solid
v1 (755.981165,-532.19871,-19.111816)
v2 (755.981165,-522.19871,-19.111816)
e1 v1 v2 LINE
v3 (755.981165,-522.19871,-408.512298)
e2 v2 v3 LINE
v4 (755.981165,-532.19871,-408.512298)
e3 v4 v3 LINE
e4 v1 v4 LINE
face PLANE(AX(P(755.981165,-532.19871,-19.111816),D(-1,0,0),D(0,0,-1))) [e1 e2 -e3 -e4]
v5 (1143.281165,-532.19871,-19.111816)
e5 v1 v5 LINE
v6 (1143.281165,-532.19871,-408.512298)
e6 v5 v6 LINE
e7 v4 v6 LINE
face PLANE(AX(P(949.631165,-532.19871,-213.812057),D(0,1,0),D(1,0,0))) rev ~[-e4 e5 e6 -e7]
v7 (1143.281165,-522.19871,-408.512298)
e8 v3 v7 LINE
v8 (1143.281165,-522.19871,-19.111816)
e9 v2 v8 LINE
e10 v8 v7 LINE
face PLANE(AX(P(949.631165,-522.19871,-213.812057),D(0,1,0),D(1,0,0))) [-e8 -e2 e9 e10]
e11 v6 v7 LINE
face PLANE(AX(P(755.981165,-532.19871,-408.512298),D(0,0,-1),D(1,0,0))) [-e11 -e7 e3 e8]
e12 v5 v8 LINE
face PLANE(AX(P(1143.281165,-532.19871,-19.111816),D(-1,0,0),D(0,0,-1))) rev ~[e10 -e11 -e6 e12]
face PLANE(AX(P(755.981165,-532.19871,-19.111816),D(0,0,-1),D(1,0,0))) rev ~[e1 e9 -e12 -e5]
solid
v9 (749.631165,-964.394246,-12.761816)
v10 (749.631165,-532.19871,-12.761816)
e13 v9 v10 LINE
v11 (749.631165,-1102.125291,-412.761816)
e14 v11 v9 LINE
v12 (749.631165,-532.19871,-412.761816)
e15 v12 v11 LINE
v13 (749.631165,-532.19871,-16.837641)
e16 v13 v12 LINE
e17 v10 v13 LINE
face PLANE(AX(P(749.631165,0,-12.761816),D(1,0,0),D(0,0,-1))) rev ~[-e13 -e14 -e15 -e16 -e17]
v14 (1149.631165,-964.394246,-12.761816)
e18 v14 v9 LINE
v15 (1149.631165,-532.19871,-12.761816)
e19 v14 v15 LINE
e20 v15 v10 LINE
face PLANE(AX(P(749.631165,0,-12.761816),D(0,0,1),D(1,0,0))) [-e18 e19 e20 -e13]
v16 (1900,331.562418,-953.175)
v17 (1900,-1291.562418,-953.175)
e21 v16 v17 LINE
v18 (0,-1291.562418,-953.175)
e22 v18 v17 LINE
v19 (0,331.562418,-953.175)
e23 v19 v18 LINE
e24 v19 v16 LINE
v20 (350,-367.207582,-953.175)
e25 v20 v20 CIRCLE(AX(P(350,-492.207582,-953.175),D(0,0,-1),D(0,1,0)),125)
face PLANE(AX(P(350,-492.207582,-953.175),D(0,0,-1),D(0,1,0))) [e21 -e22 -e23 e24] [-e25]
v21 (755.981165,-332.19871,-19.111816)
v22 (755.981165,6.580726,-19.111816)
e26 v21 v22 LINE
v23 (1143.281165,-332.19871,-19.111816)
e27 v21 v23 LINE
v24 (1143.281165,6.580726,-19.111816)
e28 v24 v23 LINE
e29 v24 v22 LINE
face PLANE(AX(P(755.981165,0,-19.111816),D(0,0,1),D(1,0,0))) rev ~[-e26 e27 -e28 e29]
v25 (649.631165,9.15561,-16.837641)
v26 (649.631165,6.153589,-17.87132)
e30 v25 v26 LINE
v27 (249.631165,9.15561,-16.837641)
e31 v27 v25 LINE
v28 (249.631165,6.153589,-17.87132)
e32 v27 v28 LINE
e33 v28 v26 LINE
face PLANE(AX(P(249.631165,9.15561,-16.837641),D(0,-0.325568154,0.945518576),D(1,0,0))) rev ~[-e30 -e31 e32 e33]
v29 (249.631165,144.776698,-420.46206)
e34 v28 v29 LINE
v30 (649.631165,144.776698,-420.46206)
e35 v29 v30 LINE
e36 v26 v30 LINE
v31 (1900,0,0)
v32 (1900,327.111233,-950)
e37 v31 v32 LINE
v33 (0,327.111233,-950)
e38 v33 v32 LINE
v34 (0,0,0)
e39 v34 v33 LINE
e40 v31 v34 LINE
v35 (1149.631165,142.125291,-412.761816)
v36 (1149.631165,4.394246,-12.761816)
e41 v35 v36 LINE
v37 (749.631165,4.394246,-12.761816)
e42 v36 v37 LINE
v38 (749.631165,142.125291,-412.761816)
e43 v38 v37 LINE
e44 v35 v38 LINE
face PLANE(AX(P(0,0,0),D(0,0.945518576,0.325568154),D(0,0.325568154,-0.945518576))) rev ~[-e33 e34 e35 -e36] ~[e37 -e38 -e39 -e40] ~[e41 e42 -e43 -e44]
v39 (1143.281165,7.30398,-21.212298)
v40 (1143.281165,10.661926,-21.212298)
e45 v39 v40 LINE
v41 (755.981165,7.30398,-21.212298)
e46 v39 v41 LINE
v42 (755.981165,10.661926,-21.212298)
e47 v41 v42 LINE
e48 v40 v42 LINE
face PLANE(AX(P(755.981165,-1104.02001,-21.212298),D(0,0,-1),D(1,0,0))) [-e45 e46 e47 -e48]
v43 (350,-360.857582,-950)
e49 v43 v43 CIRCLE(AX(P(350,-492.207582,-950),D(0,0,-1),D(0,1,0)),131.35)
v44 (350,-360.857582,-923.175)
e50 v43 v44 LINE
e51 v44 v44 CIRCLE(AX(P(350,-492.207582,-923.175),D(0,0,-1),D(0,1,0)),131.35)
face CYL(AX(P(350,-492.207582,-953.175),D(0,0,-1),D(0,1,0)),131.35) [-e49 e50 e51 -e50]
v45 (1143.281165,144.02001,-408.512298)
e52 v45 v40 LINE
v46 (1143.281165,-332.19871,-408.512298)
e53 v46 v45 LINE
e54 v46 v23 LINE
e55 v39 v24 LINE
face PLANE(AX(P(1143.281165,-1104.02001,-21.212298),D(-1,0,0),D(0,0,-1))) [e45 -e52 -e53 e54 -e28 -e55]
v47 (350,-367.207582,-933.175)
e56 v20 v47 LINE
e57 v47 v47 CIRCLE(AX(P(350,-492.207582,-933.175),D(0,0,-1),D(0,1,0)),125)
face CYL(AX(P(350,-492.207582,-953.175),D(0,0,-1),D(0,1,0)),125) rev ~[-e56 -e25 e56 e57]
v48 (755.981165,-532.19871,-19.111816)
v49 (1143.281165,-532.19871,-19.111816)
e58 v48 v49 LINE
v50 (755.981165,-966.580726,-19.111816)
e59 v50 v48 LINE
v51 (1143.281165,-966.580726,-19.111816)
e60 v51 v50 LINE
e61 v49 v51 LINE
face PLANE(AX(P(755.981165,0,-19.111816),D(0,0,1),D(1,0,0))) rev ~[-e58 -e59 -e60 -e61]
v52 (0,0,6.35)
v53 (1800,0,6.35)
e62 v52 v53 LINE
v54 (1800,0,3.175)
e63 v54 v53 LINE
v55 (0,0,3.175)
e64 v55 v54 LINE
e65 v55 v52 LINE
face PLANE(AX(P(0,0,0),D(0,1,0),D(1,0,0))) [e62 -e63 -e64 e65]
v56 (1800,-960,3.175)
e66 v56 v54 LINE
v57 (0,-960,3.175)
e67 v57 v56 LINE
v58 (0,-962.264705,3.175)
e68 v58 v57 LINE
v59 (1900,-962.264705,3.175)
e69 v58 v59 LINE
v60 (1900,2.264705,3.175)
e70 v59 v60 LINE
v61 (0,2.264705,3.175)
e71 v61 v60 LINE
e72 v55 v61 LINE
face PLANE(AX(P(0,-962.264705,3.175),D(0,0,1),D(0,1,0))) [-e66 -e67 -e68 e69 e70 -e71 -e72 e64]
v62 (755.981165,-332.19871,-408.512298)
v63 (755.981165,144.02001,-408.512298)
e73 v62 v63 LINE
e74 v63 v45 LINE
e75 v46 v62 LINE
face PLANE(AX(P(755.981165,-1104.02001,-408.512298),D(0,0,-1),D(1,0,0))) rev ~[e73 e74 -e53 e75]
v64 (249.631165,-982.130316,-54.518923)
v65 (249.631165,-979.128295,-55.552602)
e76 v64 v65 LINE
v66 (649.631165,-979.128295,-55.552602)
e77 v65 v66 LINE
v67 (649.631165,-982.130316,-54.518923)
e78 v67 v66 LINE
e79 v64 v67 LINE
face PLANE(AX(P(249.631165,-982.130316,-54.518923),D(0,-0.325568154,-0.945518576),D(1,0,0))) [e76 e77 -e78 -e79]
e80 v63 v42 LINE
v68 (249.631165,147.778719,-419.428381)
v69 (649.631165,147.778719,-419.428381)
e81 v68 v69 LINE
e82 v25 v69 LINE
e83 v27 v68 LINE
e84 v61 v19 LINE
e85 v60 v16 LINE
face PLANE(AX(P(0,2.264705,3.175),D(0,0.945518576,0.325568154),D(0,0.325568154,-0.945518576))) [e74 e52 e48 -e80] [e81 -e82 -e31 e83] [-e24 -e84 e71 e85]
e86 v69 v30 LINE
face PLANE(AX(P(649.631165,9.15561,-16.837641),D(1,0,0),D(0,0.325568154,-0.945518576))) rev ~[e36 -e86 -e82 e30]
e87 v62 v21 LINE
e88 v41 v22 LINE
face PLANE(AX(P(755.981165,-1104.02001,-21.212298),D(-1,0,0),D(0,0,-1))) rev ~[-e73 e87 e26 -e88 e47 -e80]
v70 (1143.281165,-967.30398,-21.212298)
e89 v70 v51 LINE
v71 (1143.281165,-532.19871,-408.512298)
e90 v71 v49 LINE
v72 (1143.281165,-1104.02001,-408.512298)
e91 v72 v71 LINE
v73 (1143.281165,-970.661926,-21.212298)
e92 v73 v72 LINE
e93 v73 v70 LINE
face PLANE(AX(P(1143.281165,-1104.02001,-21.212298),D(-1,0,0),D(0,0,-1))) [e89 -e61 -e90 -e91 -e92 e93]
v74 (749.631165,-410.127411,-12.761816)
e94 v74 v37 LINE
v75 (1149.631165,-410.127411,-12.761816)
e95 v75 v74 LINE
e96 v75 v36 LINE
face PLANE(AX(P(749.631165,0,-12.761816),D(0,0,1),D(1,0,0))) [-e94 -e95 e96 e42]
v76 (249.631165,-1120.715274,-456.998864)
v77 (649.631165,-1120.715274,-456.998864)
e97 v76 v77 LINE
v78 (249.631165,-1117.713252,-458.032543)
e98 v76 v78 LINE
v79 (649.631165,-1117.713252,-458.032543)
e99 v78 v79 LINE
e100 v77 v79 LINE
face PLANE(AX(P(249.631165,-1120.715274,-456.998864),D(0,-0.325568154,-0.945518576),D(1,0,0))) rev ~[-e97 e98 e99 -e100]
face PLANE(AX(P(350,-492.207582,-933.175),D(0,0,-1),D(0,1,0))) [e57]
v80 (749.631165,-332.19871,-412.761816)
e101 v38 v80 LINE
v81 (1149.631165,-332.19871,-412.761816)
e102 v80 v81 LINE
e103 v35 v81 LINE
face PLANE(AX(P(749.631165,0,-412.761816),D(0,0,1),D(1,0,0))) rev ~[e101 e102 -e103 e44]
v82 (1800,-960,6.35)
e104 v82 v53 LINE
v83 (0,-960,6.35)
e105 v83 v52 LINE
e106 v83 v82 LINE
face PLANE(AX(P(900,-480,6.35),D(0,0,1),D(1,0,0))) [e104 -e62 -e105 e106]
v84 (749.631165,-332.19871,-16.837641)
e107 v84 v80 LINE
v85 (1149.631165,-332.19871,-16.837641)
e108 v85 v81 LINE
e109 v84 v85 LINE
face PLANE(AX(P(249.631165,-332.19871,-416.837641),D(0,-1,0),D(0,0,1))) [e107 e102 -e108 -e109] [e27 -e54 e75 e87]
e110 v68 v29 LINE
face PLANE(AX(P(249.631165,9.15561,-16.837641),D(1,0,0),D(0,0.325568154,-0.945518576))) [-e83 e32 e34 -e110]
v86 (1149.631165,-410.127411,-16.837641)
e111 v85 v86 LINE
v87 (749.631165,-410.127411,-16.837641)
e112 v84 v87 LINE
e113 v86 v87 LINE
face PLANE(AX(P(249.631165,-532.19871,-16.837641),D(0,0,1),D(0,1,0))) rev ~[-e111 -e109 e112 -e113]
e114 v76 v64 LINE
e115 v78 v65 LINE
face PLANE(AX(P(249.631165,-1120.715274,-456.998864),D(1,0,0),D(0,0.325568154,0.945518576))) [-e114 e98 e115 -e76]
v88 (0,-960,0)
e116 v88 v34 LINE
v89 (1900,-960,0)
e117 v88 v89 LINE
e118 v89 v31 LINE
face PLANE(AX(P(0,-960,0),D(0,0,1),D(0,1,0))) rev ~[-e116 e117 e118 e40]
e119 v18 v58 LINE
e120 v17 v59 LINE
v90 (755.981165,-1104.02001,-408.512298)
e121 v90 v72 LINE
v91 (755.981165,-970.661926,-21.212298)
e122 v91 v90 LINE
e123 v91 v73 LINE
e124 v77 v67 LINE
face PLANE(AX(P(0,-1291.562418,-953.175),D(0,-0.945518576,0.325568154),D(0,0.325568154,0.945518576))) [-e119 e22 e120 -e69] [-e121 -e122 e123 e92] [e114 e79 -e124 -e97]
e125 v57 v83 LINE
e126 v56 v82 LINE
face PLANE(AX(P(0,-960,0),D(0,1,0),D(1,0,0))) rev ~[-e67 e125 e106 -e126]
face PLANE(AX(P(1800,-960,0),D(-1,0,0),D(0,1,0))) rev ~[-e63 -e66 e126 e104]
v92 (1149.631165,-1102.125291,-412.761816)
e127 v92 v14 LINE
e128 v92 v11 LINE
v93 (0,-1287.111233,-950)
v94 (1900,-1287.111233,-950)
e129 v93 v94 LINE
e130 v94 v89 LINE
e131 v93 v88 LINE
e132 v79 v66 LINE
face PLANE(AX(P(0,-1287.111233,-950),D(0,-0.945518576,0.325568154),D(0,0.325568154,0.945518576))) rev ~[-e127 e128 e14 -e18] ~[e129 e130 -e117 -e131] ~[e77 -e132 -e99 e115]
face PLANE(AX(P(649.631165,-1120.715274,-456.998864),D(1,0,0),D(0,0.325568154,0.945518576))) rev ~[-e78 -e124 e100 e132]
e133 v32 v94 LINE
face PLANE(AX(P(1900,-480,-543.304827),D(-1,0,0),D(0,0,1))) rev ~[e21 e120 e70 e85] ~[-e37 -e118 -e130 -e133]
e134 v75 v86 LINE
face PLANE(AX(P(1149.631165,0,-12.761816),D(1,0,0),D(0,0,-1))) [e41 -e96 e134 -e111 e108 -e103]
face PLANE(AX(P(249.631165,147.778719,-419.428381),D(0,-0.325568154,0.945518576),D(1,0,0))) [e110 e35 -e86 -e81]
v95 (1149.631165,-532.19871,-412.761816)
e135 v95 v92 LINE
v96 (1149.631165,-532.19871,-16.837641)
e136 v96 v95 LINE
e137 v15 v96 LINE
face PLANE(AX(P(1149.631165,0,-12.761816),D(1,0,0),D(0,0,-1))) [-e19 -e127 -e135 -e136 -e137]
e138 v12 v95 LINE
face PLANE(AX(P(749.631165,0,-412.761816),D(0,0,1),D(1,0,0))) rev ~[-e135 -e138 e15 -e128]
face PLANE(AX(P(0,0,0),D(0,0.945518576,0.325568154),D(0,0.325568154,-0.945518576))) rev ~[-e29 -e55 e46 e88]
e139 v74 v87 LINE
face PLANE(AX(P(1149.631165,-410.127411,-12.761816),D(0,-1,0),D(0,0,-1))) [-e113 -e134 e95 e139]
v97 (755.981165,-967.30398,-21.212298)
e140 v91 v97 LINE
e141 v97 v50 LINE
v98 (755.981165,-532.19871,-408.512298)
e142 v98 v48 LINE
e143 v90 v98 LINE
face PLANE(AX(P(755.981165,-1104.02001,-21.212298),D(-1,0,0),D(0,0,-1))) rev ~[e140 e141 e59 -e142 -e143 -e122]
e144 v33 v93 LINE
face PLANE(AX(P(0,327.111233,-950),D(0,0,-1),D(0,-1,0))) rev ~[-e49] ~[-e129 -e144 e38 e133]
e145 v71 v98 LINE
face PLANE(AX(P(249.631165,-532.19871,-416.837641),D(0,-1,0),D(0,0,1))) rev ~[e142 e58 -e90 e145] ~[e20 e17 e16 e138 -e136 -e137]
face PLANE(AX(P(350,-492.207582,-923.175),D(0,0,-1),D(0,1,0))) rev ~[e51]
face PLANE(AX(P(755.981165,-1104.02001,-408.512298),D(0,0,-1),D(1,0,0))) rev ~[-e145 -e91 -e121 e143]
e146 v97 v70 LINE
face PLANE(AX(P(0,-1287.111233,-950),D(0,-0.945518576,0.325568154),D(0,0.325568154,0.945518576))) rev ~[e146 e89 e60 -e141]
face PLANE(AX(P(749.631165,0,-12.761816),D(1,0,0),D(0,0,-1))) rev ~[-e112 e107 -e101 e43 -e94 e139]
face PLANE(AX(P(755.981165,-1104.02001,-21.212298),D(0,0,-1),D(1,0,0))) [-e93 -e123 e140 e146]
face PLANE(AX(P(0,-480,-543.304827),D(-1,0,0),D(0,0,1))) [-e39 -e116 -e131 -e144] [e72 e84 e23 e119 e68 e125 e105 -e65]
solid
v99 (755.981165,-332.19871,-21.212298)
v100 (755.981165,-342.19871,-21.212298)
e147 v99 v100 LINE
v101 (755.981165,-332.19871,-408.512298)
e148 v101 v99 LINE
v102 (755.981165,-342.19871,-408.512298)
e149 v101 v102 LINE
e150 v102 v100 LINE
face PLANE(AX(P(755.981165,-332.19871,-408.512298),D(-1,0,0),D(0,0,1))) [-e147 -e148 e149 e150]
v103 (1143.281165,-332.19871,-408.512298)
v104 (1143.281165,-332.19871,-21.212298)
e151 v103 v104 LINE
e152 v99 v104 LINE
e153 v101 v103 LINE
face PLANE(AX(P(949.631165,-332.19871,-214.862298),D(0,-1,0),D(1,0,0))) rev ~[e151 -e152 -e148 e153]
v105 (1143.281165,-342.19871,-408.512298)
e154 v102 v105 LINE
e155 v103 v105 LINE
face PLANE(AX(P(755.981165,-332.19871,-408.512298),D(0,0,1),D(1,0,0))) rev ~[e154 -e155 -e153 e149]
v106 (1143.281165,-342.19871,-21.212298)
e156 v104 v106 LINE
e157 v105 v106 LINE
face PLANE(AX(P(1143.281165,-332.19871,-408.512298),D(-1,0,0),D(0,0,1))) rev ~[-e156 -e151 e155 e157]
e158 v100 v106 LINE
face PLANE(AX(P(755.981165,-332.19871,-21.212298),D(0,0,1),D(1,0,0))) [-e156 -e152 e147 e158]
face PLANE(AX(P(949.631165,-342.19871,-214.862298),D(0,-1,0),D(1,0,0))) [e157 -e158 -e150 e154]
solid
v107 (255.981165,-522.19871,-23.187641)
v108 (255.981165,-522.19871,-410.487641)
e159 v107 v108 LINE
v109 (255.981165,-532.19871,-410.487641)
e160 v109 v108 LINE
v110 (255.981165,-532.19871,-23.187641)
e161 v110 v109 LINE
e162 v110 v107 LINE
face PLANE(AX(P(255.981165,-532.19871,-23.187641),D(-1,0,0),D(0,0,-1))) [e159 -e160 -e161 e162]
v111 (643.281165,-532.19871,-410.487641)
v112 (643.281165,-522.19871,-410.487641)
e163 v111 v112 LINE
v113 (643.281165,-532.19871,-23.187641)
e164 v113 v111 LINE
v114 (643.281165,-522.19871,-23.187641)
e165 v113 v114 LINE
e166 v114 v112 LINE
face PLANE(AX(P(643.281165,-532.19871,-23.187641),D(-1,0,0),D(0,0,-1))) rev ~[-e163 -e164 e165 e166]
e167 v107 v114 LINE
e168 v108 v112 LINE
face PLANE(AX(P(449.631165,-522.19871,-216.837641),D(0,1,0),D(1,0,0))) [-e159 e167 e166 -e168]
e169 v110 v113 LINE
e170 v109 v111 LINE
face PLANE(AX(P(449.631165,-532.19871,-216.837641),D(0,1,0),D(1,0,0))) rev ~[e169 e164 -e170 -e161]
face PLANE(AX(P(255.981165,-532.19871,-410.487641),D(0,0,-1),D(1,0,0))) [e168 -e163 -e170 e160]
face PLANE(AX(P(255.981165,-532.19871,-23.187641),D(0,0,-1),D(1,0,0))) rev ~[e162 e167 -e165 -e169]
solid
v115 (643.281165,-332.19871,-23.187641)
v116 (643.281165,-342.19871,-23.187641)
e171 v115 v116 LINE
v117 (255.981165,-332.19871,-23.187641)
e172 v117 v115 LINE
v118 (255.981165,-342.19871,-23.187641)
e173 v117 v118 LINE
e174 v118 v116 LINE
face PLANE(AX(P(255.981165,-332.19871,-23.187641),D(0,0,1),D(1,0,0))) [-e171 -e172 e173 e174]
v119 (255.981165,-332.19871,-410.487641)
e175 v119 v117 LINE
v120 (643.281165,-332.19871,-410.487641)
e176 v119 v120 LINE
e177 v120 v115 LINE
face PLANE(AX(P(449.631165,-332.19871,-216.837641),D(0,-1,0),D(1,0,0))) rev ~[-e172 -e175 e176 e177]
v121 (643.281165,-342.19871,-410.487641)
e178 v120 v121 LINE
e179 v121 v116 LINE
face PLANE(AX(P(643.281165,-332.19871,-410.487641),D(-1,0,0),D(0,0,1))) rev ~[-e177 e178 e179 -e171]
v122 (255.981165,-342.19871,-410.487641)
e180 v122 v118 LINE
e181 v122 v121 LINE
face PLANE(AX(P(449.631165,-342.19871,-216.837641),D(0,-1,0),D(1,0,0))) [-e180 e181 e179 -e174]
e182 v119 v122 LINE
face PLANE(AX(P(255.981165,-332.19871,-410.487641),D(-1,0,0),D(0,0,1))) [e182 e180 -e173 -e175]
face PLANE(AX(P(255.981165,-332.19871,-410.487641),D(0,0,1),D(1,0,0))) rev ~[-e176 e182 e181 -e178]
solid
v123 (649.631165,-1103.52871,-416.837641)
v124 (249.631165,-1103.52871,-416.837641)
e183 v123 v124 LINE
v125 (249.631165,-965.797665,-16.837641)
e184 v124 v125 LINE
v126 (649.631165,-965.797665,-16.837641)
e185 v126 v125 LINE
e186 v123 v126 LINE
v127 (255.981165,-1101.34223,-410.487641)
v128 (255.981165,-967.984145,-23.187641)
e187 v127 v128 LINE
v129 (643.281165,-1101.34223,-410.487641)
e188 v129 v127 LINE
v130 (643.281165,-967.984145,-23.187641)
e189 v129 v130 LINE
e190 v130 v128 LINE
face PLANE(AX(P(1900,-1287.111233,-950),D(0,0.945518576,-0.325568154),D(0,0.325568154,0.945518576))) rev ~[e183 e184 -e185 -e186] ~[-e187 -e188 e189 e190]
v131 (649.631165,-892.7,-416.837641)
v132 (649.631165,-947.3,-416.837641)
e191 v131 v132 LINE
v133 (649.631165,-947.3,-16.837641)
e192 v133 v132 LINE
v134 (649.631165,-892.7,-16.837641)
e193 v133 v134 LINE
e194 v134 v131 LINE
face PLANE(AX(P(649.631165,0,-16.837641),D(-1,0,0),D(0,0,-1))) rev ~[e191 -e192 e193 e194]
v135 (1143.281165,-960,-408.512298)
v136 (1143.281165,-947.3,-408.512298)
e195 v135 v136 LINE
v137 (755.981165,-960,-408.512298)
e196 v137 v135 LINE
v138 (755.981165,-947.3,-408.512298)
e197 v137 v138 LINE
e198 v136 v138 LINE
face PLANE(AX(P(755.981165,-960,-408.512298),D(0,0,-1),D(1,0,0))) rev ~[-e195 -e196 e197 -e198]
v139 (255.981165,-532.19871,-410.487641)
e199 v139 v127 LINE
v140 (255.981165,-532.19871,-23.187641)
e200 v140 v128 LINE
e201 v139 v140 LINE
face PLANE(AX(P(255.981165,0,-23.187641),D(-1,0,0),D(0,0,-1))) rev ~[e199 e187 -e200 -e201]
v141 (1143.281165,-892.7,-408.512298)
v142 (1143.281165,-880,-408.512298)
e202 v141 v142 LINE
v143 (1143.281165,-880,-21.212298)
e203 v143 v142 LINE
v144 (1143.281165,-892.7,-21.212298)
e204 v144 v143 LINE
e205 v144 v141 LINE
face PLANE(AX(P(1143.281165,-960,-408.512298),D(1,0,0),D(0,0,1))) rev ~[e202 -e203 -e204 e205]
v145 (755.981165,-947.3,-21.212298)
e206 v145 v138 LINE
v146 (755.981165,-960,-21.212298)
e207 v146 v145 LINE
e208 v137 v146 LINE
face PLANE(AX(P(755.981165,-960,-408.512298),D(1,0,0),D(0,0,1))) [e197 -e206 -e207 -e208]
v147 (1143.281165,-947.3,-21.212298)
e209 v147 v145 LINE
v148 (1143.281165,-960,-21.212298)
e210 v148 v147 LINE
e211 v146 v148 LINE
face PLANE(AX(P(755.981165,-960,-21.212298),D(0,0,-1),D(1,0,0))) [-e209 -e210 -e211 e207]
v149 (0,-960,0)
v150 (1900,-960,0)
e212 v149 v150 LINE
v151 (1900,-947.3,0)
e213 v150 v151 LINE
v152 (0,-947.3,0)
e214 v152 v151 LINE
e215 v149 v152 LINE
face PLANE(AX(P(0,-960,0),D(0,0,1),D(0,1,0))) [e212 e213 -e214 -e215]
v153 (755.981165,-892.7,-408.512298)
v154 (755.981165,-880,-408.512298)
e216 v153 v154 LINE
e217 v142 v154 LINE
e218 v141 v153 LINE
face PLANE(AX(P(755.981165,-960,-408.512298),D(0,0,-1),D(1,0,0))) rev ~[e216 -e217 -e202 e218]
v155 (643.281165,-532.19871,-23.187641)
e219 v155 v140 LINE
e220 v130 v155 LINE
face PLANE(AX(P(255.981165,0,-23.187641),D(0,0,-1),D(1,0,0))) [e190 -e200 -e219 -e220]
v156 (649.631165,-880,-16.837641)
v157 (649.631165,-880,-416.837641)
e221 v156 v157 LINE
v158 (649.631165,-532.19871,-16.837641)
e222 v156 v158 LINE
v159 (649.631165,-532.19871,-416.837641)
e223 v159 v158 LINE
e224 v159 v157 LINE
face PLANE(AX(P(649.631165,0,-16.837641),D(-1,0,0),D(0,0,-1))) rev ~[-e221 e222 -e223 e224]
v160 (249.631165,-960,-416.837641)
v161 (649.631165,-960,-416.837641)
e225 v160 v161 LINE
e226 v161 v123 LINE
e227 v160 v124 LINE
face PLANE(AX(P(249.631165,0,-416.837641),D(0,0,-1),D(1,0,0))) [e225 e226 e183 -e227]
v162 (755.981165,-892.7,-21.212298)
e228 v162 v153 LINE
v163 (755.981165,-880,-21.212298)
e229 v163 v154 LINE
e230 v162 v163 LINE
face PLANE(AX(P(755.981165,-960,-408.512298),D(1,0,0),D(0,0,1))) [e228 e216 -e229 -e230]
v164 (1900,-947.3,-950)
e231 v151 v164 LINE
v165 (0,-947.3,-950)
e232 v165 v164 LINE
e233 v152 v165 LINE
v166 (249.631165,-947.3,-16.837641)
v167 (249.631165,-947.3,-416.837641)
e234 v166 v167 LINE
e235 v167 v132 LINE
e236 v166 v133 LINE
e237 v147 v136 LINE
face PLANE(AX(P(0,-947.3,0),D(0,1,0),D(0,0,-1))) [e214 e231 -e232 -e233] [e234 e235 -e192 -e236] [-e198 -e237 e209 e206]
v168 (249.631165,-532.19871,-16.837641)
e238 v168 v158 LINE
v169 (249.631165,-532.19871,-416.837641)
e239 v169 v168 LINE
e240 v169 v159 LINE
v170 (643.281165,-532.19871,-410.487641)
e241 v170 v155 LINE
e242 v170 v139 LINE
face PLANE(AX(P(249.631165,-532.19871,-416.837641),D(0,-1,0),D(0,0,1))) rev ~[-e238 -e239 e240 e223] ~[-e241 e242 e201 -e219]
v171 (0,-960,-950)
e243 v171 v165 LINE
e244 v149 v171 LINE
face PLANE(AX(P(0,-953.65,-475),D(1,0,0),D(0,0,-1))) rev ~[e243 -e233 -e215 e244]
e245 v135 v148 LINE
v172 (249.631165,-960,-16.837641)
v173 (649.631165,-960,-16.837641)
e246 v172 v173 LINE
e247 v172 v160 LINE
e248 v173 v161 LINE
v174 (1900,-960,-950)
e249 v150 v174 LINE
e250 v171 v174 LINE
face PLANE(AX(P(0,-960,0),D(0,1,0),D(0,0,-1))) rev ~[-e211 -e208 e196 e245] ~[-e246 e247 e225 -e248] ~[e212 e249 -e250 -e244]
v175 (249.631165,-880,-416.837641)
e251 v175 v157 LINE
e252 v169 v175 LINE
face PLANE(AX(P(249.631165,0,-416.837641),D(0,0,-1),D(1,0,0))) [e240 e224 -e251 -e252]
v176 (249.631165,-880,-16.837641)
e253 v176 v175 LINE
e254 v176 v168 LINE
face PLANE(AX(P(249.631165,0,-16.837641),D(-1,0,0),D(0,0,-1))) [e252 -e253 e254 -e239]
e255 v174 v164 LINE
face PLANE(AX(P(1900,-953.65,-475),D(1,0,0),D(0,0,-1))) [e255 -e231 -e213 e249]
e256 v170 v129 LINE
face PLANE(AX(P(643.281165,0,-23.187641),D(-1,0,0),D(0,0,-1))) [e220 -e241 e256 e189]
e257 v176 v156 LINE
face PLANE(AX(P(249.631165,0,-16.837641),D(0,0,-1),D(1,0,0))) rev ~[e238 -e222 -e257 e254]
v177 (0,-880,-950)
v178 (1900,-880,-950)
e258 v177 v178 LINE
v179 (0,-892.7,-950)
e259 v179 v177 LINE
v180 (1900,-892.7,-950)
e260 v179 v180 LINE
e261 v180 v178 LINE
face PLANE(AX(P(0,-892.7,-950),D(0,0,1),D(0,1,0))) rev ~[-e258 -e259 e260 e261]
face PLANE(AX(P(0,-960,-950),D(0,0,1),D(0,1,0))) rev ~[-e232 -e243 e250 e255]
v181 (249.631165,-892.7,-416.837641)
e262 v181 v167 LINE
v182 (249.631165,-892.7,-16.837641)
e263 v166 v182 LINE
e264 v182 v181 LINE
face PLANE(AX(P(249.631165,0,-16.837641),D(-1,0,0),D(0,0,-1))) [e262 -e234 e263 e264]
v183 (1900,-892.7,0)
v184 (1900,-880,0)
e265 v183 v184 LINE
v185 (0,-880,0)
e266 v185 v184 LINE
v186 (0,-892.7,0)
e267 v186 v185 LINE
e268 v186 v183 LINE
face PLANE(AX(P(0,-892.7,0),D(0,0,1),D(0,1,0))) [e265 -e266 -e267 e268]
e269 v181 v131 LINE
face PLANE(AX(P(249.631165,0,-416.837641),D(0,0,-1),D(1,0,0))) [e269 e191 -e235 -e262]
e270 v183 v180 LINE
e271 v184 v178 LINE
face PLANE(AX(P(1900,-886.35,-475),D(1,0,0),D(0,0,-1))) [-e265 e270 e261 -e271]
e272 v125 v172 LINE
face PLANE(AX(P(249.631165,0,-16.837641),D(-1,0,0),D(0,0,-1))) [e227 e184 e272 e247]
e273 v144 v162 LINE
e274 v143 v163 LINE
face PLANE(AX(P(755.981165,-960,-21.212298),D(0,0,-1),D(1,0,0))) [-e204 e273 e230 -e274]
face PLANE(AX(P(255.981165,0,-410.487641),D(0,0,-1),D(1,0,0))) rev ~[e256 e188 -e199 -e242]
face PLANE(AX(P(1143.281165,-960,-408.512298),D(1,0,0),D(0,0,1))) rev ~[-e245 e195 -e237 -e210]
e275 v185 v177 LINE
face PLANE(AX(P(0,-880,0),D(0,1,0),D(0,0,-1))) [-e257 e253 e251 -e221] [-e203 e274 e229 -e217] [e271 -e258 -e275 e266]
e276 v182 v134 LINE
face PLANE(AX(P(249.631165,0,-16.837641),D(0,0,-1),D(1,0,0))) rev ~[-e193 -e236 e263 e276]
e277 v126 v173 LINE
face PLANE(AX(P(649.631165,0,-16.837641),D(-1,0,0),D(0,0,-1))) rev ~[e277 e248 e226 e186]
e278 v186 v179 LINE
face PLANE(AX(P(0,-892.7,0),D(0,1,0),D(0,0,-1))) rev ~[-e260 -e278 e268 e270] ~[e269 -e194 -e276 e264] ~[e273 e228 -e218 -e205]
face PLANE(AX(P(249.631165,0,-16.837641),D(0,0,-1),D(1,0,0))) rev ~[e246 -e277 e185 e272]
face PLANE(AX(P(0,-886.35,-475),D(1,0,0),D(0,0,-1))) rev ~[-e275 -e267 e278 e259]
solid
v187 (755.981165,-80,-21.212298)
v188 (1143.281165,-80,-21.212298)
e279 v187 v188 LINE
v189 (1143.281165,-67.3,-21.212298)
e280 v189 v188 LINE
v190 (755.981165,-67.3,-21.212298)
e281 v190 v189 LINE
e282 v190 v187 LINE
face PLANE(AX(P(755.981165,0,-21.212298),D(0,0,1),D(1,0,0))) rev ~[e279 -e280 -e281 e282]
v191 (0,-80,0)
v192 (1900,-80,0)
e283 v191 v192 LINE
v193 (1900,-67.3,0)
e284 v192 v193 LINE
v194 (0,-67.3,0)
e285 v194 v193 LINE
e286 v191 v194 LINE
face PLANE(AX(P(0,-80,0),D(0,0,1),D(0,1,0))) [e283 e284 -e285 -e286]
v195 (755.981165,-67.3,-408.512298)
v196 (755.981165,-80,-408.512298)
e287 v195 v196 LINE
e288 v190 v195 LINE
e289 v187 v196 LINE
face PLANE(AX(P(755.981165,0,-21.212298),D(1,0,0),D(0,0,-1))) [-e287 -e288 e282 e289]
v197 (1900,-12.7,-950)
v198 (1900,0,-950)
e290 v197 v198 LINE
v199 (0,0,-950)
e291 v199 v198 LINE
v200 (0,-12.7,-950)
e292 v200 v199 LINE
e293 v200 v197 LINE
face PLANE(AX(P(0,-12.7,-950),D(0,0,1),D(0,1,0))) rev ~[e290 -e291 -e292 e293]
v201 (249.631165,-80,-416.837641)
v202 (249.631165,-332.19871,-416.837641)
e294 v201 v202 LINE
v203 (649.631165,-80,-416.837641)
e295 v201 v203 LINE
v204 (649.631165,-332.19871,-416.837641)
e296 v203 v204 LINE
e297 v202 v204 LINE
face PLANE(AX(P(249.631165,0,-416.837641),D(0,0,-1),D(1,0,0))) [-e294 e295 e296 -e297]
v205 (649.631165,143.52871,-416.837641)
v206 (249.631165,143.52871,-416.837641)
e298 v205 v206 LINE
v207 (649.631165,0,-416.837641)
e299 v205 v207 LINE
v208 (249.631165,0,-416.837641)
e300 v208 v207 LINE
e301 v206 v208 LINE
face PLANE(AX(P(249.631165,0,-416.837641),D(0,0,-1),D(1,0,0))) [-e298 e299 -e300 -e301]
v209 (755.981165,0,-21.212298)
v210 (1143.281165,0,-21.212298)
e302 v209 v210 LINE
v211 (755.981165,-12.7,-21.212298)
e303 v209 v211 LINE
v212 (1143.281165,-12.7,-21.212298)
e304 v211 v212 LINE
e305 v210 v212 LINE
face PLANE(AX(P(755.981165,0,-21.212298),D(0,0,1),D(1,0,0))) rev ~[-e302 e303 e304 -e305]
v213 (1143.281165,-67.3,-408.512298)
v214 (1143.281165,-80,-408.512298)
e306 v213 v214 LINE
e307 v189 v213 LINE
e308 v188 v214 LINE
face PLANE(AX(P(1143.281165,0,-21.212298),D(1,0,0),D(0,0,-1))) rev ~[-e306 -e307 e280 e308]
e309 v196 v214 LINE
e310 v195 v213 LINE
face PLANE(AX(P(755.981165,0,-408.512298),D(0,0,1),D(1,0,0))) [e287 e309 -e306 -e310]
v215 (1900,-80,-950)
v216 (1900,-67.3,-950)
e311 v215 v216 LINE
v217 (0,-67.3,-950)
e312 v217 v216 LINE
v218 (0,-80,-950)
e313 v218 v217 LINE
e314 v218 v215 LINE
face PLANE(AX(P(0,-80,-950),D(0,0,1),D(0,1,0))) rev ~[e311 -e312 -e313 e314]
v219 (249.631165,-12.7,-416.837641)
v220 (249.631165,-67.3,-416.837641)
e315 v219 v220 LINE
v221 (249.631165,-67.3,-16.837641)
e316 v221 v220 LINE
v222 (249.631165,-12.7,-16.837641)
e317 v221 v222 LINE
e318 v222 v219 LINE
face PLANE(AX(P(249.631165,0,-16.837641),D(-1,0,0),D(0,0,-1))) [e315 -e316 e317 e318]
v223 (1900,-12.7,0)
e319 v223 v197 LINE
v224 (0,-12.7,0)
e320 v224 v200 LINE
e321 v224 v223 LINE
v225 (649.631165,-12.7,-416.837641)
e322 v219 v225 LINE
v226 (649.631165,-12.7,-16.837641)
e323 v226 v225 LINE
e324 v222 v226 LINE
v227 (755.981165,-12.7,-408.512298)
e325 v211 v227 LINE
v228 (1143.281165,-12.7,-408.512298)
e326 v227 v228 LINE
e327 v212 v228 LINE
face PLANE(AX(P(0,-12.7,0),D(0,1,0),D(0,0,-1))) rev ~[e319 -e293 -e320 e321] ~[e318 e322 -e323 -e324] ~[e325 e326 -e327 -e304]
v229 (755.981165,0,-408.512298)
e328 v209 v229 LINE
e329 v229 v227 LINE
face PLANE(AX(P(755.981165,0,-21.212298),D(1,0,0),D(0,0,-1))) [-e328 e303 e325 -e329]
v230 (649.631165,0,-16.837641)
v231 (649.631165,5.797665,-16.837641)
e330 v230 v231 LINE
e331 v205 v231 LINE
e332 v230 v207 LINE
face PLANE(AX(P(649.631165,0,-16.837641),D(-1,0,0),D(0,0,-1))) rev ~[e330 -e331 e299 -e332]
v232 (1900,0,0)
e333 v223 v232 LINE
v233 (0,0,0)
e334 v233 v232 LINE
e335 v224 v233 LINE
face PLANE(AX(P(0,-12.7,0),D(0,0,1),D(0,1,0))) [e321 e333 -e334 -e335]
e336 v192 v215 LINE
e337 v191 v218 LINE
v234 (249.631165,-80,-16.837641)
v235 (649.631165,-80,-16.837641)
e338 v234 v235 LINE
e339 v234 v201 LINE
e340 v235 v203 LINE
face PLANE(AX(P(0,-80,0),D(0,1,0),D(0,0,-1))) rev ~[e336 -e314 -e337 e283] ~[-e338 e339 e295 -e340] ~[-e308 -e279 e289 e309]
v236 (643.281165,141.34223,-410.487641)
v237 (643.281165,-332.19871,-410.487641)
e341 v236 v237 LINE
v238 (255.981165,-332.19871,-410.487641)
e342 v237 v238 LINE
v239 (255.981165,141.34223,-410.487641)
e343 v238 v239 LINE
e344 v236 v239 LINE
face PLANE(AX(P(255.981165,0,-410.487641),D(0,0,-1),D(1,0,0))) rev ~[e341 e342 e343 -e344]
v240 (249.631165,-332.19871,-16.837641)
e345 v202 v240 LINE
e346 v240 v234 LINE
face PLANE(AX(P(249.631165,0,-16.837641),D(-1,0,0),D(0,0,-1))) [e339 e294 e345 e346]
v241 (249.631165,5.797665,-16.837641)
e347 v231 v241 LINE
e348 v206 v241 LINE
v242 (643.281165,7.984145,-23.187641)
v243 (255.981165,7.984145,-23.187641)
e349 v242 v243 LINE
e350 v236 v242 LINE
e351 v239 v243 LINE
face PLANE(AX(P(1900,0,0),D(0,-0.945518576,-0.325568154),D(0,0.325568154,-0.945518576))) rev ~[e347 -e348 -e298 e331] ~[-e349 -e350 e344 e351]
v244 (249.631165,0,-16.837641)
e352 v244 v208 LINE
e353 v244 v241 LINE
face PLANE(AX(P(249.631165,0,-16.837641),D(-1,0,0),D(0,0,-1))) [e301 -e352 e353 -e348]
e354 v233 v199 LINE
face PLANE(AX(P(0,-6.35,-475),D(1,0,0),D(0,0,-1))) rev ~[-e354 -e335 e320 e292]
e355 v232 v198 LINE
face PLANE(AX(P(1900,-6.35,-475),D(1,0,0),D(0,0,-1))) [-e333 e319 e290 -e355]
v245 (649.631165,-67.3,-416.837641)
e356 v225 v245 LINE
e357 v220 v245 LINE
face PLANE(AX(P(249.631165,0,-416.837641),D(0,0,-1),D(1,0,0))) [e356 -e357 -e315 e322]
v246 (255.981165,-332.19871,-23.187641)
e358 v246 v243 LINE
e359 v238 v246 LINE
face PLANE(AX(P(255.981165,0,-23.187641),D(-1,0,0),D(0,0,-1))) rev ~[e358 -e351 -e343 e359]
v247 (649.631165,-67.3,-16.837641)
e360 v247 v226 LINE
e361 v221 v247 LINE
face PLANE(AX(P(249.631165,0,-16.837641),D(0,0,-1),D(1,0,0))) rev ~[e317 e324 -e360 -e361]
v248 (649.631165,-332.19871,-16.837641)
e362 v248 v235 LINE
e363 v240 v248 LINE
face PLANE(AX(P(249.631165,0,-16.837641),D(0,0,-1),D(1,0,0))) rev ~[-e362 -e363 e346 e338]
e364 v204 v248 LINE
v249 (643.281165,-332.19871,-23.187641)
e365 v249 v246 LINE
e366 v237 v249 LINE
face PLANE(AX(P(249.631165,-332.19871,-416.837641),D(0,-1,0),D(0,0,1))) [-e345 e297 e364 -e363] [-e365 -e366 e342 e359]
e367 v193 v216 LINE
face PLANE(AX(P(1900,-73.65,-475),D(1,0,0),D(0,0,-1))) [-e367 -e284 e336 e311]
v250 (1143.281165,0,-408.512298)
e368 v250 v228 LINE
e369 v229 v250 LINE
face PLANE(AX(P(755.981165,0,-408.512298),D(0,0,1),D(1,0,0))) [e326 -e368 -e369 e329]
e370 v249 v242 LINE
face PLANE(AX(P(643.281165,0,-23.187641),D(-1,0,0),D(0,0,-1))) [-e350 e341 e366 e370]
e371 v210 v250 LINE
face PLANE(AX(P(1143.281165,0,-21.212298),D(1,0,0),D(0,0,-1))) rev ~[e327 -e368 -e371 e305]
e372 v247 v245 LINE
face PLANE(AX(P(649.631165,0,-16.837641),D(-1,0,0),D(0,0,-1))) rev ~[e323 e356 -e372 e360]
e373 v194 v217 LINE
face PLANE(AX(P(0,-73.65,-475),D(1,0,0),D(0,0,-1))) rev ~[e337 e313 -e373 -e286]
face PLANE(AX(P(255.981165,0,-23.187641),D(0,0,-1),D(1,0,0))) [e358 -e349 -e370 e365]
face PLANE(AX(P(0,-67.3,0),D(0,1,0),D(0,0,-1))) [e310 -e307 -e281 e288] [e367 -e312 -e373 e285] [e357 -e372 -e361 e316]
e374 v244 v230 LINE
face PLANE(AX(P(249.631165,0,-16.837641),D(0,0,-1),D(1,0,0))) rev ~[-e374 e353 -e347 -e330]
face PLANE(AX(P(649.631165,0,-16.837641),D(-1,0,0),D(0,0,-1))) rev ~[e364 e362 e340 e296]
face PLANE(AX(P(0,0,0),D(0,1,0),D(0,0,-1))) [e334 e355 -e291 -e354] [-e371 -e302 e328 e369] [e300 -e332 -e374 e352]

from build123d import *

# Parameters (mm, degrees)
SKETCH1_W                       = 1800
SKETCH1_H                       = 960
BOSS_EXTRUDE1_DEPTH             = 6.35
BOSS_EXTRUDE2_DEPTH             = 1900
SKETCH6_W                       = 400
SKETCH6_H                       = 425.788292868
CUT_EXTRUDE1_DEPTH              = 300
SKETCH7_W                       = 400
SKETCH7_H                       = 425.67110899
CUT_EXTRUDE2_DEPTH              = 300
BOSS_EXTRUDE4_REACH             = 2489.303
SKETCH8_W                       = 400
SKETCH8_H                       = 400
SKETCH8_W_2                     = 387.3
SKETCH8_H_2                     = 387.3
BOSS_EXTRUDE4_DIRECTION_2_REACH = 2489.303
SKETCH11_R                      = 131.35
BOSS_EXTRUDE6_DEPTH             = 30
SKETCH12_R                      = 125
CUT_EXTRUDE5_DEPTH              = 20
BOSS_EXTRUDE7_REACH             = 2489.303
SKETCH14_W                      = 400
SKETCH14_H                      = 400
SKETCH14_W_2                    = 387.3
SKETCH14_H_2                    = 387.3
BOSS_EXTRUDE7_DIRECTION_2_REACH = 2489.303
CUT_EXTRUDE6_START              = -1104.02001
SKETCH15_W                      = 387.3
SKETCH15_H                      = 387.3
CUT_EXTRUDE6_DEPTH              = 1248.04002
SKETCH16_W                      = 400
SKETCH16_H                      = 200
CUT_EXTRUDE8_DEPTH              = 940
SKETCH18_W                      = 4.075824643
SKETCH18_H                      = 122.071298875
CUT_EXTRUDE9_DEPTH              = 410
SKETCH19_W                      = 387.3
SKETCH19_H                      = 387.3
BOSS_EXTRUDE22_DEPTH            = 10
SKETCH22_W                      = 387.3
SKETCH22_H                      = 389.400481364
BOSS_EXTRUDE24_DEPTH            = 10
SKETCH23_W                      = 387.3
SKETCH23_H                      = 387.3
BOSS_EXTRUDE25_DEPTH            = 10
SKETCH24_W                      = 387.3
SKETCH24_H                      = 387.3
BOSS_EXTRUDE26_DEPTH            = 10
SKETCH25_W                      = 950
SKETCH25_H                      = 12.7
BOSS_EXTRUDE27_DEPTH            = 1900
SKETCH26_W                      = 387.3
SKETCH26_H                      = 387.3
CUT_EXTRUDE10_DEPTH             = 300
SKETCH27_W                      = 387.3
SKETCH27_H                      = 387.3
CUT_EXTRUDE11_DEPTH             = 300
SKETCH28_W                      = 387.3
SKETCH28_H                      = 387.3
CUT_EXTRUDE12_DEPTH             = 300
SKETCH29_W                      = 387.3
SKETCH29_H                      = 387.3
CUT_EXTRUDE13_DEPTH             = 300


with BuildPart() as part:
    # Sketch1 → Boss-Extrude1 (new body)
    with BuildSketch(Plane.XY):
        with Locations((900, -480)):
            Rectangle(SKETCH1_W, SKETCH1_H)
    extrude(amount=BOSS_EXTRUDE1_DEPTH)

    # Sketch2 → Boss-Extrude2 (add)
    with BuildSketch(Plane(origin=(0, 0, 0), x_dir=(0, 0, -1), z_dir=(1, 0, 0))):
        Polygon((-3.175, -962.264705491), (-3.175, 2.264705491), (953.175, 331.56241846), (953.175, -1291.56241846), align=None)
        Polygon((0, 0), (950, 327.111232625), (950, -1287.111232625), (0, -960), align=None, mode=Mode.SUBTRACT)
    extrude(amount=BOSS_EXTRUDE2_DEPTH)

    # Sketch6 → Cut-Extrude1 (cut)
    with BuildSketch(Plane(origin=(0, 3.002021478, 1.03367889), x_dir=(1, 0, 0), z_dir=(0, 0.9455185755993153, 0.32556815445716086))):
        with Locations((449.631164922, 231.795224093)):
            Rectangle(SKETCH6_W, SKETCH6_H)
    extrude(amount=-CUT_EXTRUDE1_DEPTH, mode=Mode.SUBTRACT)

    # Sketch7 → Cut-Extrude2 (cut)
    with BuildSketch(Plane(origin=(0, -861.247183209, 296.551187047), x_dir=(1, 0, 0), z_dir=(0, -0.9455185755993154, 0.32556815445716053))):
        with Locations((449.631164922, -584.134563657)):
            Rectangle(SKETCH7_W, SKETCH7_H)
    extrude(amount=-CUT_EXTRUDE2_DEPTH, mode=Mode.SUBTRACT)

    # Sketch11 → Boss-Extrude6 (add)
    with BuildSketch(Plane(origin=(0, 0, -953.175), x_dir=(-1, 0, 0), z_dir=(0, 0, -1))):
        with Locations(Location((-350, -492.20758154, 0), (0, 0, 90))):
            Circle(SKETCH11_R)
    extrude(amount=-BOSS_EXTRUDE6_DEPTH)

    # Sketch12 → Cut-Extrude5 (cut)
    with BuildSketch(Plane(origin=(0, 0, -953.175), x_dir=(-1, 0, 0), z_dir=(0, 0, -1))):
        with Locations(Location((-350, -492.20758154, 0), (0, 0, 90))):
            Circle(SKETCH12_R)
    extrude(amount=-CUT_EXTRUDE5_DEPTH, mode=Mode.SUBTRACT)

    # Boss-Extrude7: up to this plane
    boss_extrude7_end = Plane(origin=(1900, 0, 0), z_dir=(0, -0.9455185755993153, -0.325568154457161))
    # Sketch14 → Boss-Extrude7 (add, up to the surface)
    with BuildSketch(Plane(origin=(0, 0, 0), x_dir=(1, 0, 0), z_dir=(0, 1, 0)), mode=Mode.PRIVATE) as boss_extrude7_sk1:
        with Locations((949.631164922, 212.761816492)):
            Rectangle(SKETCH14_W, SKETCH14_H)
        with Locations((949.631164922, 212.761816492)):
            Rectangle(SKETCH14_W_2, SKETCH14_H_2, mode=Mode.SUBTRACT)
    boss_extrude7_tool1 = split(extrude(boss_extrude7_sk1.sketch, amount=BOSS_EXTRUDE7_REACH, mode=Mode.PRIVATE), bisect_by=boss_extrude7_end, keep=Keep.BOTH, mode=Mode.PRIVATE)
    add(boss_extrude7_tool1.solids().sort_by_distance((949.631165, 0, -407.104962))[0])

    # Boss-Extrude7 direction 2: up to this plane
    boss_extrude7_direction_2_end = Plane(origin=(1900, -1287.111232625, -950), z_dir=(0, 0.9455185755993156, -0.3255681544571603))
    # Sketch14 → Boss-Extrude7 direction 2 (add, up to the surface)
    with BuildSketch(Plane(origin=(0, 0, 0), x_dir=(1, 0, 0), z_dir=(0, 1, 0)), mode=Mode.PRIVATE) as boss_extrude7_direction_2_sk1:
        with Locations((949.631164922, 212.761816492)):
            Rectangle(SKETCH14_W, SKETCH14_H)
        with Locations((949.631164922, 212.761816492)):
            Rectangle(SKETCH14_W_2, SKETCH14_H_2, mode=Mode.SUBTRACT)
    boss_extrude7_direction_2_tool1 = split(extrude(boss_extrude7_direction_2_sk1.sketch, amount=-BOSS_EXTRUDE7_DIRECTION_2_REACH, mode=Mode.PRIVATE), bisect_by=boss_extrude7_direction_2_end, keep=Keep.BOTH, mode=Mode.PRIVATE)
    add(boss_extrude7_direction_2_tool1.solids().sort_by_distance((949.631165, 0, -407.104962))[0])

    # Sketch15 → Cut-Extrude6 (cut)
    with BuildSketch(Plane(origin=(0, 0, 0), x_dir=(1, 0, 0), z_dir=(0, 1, 0)).offset(CUT_EXTRUDE6_START)):
        with Locations((949.631164922, 214.862297856)):
            Rectangle(SKETCH15_W, SKETCH15_H)
    extrude(amount=CUT_EXTRUDE6_DEPTH, mode=Mode.SUBTRACT)


with BuildPart() as body_2:
    # Boss-Extrude4: up to this plane
    boss_extrude4_end = Plane(origin=(1900, -1287.111232625, -950), z_dir=(0, 0.9455185755993156, -0.3255681544571603))
    # Sketch8 → Boss-Extrude4 (new, up to the surface)
    with BuildSketch(Plane(origin=(0, 0, 0), x_dir=(1, 0, 0), z_dir=(0, 1, 0)), mode=Mode.PRIVATE) as boss_extrude4_sk1:
        with Locations((449.631164922, 216.837641135)):
            Rectangle(SKETCH8_W, SKETCH8_H)
        with Locations((449.631164922, 216.837641135)):
            Rectangle(SKETCH8_W_2, SKETCH8_H_2, mode=Mode.SUBTRACT)
    boss_extrude4_tool1 = split(extrude(boss_extrude4_sk1.sketch, amount=-BOSS_EXTRUDE4_REACH, mode=Mode.PRIVATE), bisect_by=boss_extrude4_end, keep=Keep.BOTH, mode=Mode.PRIVATE)
    add(boss_extrude4_tool1.solids().sort_by_distance((449.631165, 0, -22.494495))[0])

    # Boss-Extrude4 direction 2: up to this plane
    boss_extrude4_direction_2_end = Plane(origin=(1900, 0, 0), z_dir=(0, -0.9455185755993153, -0.325568154457161))
    # Sketch8 → Boss-Extrude4 direction 2 (add, up to the surface)
    with BuildSketch(Plane(origin=(0, 0, 0), x_dir=(1, 0, 0), z_dir=(0, 1, 0)), mode=Mode.PRIVATE) as boss_extrude4_direction_2_sk1:
        with Locations((449.631164922, 216.837641135)):
            Rectangle(SKETCH8_W, SKETCH8_H)
        with Locations((449.631164922, 216.837641135)):
            Rectangle(SKETCH8_W_2, SKETCH8_H_2, mode=Mode.SUBTRACT)
    boss_extrude4_direction_2_tool1 = split(extrude(boss_extrude4_direction_2_sk1.sketch, amount=BOSS_EXTRUDE4_DIRECTION_2_REACH, mode=Mode.PRIVATE), bisect_by=boss_extrude4_direction_2_end, keep=Keep.BOTH, mode=Mode.PRIVATE)
    add(boss_extrude4_direction_2_tool1.solids().sort_by_distance((449.631165, 0, -22.494495))[0])


with BuildPart() as cut_extrude8_tool:
    # Sketch16 → Cut-Extrude8 (new body)
    with BuildSketch(Plane.ZY.offset(-249.631164922)):
        with Locations((-216.837641135, -432.198710101)):
            Rectangle(SKETCH16_W, SKETCH16_H)
    extrude(amount=-CUT_EXTRUDE8_DEPTH)


with BuildPart() as part_1:
    add(part.part)

    # Cut-Extrude8: cut by cut_extrude8_tool
    add(cut_extrude8_tool.part, mode=Mode.SUBTRACT)

    # Sketch18 → Cut-Extrude9 (cut)
    with BuildSketch(Plane(origin=(1149.631164922, 0, 0), x_dir=(0, 0, -1), z_dir=(1, 0, 0))):
        with Locations((14.799728814, -471.163060664)):
            Rectangle(SKETCH18_W, SKETCH18_H)
    extrude(amount=-CUT_EXTRUDE9_DEPTH, mode=Mode.SUBTRACT)


with BuildPart() as body_2_1:
    add(body_2.part)

    # Cut-Extrude8: cut by cut_extrude8_tool
    add(cut_extrude8_tool.part, mode=Mode.SUBTRACT)

    # Sketch25 → Boss-Extrude27 (add)
    with BuildSketch(Plane(origin=(0, 0, 0), x_dir=(0, 0, -1), z_dir=(1, 0, 0))):
        with Locations((475, -953.65)):
            Rectangle(SKETCH25_W, SKETCH25_H)
        with Locations((475, -886.35)):
            Rectangle(SKETCH25_W, SKETCH25_H)
        with Locations((475, -73.65)):
            Rectangle(SKETCH25_W, SKETCH25_H)
        with Locations((475, -6.35)):
            Rectangle(SKETCH25_W, SKETCH25_H)
    extrude(amount=BOSS_EXTRUDE27_DEPTH)

    # Sketch26 → Cut-Extrude10 (cut)
    with BuildSketch(Plane(origin=(0, 0, 0), x_dir=(1, 0, 0), z_dir=(0, 1, 0))):
        with Locations((449.631164922, 216.837641135)):
            Rectangle(SKETCH26_W, SKETCH26_H)
    extrude(amount=-CUT_EXTRUDE10_DEPTH, mode=Mode.SUBTRACT)

    # Sketch27 → Cut-Extrude11 (cut)
    with BuildSketch(Plane(origin=(0, 0, 0), x_dir=(1, 0, 0), z_dir=(0, 1, 0))):
        with Locations((949.631164922, 214.862297856)):
            Rectangle(SKETCH27_W, SKETCH27_H)
    extrude(amount=-CUT_EXTRUDE11_DEPTH, mode=Mode.SUBTRACT)

    # Sketch28 → Cut-Extrude12 (cut)
    with BuildSketch(Plane.XZ.offset(960)):
        with Locations((949.631164922, -214.862297856)):
            Rectangle(SKETCH28_W, SKETCH28_H)
    extrude(amount=-CUT_EXTRUDE12_DEPTH, mode=Mode.SUBTRACT)

    # Sketch29 → Cut-Extrude13 (cut)
    with BuildSketch(Plane.XZ.offset(960)):
        with Locations((449.631164922, -216.837641135)):
            Rectangle(SKETCH29_W, SKETCH29_H)
    extrude(amount=-CUT_EXTRUDE13_DEPTH, mode=Mode.SUBTRACT)


with BuildPart() as body_3:
    # Sketch19 → Boss-Extrude22 (new body)
    with BuildSketch(Plane.XZ.offset(332.198710101)):
        with Locations((949.631164922, -214.862297856)):
            Rectangle(SKETCH19_W, SKETCH19_H)
    extrude(amount=BOSS_EXTRUDE22_DEPTH)


with BuildPart() as body_4:
    # Sketch22 → Boss-Extrude24 (new body)
    with BuildSketch(Plane(origin=(0, -532.198710101, 0), x_dir=(1, 0, 0), z_dir=(0, 1, 0))):
        with Locations((949.631164922, 213.812057174)):
            Rectangle(SKETCH22_W, SKETCH22_H)
    extrude(amount=BOSS_EXTRUDE24_DEPTH)


with BuildPart() as body_5:
    # Sketch23 → Boss-Extrude25 (new body)
    with BuildSketch(Plane(origin=(0, -532.198710101, 0), x_dir=(1, 0, 0), z_dir=(0, 1, 0))):
        with Locations((449.631164922, 216.837641135)):
            Rectangle(SKETCH23_W, SKETCH23_H)
    extrude(amount=BOSS_EXTRUDE25_DEPTH)


with BuildPart() as body_6:
    # Sketch24 → Boss-Extrude26 (new body)
    with BuildSketch(Plane.XZ.offset(332.198710101)):
        with Locations((449.631164922, -216.837641135)):
            Rectangle(SKETCH24_W, SKETCH24_H)
    extrude(amount=BOSS_EXTRUDE26_DEPTH)


solid = Compound([part_1.part, body_2_1.part, body_3.part, body_4.part, body_5.part, body_6.part])
